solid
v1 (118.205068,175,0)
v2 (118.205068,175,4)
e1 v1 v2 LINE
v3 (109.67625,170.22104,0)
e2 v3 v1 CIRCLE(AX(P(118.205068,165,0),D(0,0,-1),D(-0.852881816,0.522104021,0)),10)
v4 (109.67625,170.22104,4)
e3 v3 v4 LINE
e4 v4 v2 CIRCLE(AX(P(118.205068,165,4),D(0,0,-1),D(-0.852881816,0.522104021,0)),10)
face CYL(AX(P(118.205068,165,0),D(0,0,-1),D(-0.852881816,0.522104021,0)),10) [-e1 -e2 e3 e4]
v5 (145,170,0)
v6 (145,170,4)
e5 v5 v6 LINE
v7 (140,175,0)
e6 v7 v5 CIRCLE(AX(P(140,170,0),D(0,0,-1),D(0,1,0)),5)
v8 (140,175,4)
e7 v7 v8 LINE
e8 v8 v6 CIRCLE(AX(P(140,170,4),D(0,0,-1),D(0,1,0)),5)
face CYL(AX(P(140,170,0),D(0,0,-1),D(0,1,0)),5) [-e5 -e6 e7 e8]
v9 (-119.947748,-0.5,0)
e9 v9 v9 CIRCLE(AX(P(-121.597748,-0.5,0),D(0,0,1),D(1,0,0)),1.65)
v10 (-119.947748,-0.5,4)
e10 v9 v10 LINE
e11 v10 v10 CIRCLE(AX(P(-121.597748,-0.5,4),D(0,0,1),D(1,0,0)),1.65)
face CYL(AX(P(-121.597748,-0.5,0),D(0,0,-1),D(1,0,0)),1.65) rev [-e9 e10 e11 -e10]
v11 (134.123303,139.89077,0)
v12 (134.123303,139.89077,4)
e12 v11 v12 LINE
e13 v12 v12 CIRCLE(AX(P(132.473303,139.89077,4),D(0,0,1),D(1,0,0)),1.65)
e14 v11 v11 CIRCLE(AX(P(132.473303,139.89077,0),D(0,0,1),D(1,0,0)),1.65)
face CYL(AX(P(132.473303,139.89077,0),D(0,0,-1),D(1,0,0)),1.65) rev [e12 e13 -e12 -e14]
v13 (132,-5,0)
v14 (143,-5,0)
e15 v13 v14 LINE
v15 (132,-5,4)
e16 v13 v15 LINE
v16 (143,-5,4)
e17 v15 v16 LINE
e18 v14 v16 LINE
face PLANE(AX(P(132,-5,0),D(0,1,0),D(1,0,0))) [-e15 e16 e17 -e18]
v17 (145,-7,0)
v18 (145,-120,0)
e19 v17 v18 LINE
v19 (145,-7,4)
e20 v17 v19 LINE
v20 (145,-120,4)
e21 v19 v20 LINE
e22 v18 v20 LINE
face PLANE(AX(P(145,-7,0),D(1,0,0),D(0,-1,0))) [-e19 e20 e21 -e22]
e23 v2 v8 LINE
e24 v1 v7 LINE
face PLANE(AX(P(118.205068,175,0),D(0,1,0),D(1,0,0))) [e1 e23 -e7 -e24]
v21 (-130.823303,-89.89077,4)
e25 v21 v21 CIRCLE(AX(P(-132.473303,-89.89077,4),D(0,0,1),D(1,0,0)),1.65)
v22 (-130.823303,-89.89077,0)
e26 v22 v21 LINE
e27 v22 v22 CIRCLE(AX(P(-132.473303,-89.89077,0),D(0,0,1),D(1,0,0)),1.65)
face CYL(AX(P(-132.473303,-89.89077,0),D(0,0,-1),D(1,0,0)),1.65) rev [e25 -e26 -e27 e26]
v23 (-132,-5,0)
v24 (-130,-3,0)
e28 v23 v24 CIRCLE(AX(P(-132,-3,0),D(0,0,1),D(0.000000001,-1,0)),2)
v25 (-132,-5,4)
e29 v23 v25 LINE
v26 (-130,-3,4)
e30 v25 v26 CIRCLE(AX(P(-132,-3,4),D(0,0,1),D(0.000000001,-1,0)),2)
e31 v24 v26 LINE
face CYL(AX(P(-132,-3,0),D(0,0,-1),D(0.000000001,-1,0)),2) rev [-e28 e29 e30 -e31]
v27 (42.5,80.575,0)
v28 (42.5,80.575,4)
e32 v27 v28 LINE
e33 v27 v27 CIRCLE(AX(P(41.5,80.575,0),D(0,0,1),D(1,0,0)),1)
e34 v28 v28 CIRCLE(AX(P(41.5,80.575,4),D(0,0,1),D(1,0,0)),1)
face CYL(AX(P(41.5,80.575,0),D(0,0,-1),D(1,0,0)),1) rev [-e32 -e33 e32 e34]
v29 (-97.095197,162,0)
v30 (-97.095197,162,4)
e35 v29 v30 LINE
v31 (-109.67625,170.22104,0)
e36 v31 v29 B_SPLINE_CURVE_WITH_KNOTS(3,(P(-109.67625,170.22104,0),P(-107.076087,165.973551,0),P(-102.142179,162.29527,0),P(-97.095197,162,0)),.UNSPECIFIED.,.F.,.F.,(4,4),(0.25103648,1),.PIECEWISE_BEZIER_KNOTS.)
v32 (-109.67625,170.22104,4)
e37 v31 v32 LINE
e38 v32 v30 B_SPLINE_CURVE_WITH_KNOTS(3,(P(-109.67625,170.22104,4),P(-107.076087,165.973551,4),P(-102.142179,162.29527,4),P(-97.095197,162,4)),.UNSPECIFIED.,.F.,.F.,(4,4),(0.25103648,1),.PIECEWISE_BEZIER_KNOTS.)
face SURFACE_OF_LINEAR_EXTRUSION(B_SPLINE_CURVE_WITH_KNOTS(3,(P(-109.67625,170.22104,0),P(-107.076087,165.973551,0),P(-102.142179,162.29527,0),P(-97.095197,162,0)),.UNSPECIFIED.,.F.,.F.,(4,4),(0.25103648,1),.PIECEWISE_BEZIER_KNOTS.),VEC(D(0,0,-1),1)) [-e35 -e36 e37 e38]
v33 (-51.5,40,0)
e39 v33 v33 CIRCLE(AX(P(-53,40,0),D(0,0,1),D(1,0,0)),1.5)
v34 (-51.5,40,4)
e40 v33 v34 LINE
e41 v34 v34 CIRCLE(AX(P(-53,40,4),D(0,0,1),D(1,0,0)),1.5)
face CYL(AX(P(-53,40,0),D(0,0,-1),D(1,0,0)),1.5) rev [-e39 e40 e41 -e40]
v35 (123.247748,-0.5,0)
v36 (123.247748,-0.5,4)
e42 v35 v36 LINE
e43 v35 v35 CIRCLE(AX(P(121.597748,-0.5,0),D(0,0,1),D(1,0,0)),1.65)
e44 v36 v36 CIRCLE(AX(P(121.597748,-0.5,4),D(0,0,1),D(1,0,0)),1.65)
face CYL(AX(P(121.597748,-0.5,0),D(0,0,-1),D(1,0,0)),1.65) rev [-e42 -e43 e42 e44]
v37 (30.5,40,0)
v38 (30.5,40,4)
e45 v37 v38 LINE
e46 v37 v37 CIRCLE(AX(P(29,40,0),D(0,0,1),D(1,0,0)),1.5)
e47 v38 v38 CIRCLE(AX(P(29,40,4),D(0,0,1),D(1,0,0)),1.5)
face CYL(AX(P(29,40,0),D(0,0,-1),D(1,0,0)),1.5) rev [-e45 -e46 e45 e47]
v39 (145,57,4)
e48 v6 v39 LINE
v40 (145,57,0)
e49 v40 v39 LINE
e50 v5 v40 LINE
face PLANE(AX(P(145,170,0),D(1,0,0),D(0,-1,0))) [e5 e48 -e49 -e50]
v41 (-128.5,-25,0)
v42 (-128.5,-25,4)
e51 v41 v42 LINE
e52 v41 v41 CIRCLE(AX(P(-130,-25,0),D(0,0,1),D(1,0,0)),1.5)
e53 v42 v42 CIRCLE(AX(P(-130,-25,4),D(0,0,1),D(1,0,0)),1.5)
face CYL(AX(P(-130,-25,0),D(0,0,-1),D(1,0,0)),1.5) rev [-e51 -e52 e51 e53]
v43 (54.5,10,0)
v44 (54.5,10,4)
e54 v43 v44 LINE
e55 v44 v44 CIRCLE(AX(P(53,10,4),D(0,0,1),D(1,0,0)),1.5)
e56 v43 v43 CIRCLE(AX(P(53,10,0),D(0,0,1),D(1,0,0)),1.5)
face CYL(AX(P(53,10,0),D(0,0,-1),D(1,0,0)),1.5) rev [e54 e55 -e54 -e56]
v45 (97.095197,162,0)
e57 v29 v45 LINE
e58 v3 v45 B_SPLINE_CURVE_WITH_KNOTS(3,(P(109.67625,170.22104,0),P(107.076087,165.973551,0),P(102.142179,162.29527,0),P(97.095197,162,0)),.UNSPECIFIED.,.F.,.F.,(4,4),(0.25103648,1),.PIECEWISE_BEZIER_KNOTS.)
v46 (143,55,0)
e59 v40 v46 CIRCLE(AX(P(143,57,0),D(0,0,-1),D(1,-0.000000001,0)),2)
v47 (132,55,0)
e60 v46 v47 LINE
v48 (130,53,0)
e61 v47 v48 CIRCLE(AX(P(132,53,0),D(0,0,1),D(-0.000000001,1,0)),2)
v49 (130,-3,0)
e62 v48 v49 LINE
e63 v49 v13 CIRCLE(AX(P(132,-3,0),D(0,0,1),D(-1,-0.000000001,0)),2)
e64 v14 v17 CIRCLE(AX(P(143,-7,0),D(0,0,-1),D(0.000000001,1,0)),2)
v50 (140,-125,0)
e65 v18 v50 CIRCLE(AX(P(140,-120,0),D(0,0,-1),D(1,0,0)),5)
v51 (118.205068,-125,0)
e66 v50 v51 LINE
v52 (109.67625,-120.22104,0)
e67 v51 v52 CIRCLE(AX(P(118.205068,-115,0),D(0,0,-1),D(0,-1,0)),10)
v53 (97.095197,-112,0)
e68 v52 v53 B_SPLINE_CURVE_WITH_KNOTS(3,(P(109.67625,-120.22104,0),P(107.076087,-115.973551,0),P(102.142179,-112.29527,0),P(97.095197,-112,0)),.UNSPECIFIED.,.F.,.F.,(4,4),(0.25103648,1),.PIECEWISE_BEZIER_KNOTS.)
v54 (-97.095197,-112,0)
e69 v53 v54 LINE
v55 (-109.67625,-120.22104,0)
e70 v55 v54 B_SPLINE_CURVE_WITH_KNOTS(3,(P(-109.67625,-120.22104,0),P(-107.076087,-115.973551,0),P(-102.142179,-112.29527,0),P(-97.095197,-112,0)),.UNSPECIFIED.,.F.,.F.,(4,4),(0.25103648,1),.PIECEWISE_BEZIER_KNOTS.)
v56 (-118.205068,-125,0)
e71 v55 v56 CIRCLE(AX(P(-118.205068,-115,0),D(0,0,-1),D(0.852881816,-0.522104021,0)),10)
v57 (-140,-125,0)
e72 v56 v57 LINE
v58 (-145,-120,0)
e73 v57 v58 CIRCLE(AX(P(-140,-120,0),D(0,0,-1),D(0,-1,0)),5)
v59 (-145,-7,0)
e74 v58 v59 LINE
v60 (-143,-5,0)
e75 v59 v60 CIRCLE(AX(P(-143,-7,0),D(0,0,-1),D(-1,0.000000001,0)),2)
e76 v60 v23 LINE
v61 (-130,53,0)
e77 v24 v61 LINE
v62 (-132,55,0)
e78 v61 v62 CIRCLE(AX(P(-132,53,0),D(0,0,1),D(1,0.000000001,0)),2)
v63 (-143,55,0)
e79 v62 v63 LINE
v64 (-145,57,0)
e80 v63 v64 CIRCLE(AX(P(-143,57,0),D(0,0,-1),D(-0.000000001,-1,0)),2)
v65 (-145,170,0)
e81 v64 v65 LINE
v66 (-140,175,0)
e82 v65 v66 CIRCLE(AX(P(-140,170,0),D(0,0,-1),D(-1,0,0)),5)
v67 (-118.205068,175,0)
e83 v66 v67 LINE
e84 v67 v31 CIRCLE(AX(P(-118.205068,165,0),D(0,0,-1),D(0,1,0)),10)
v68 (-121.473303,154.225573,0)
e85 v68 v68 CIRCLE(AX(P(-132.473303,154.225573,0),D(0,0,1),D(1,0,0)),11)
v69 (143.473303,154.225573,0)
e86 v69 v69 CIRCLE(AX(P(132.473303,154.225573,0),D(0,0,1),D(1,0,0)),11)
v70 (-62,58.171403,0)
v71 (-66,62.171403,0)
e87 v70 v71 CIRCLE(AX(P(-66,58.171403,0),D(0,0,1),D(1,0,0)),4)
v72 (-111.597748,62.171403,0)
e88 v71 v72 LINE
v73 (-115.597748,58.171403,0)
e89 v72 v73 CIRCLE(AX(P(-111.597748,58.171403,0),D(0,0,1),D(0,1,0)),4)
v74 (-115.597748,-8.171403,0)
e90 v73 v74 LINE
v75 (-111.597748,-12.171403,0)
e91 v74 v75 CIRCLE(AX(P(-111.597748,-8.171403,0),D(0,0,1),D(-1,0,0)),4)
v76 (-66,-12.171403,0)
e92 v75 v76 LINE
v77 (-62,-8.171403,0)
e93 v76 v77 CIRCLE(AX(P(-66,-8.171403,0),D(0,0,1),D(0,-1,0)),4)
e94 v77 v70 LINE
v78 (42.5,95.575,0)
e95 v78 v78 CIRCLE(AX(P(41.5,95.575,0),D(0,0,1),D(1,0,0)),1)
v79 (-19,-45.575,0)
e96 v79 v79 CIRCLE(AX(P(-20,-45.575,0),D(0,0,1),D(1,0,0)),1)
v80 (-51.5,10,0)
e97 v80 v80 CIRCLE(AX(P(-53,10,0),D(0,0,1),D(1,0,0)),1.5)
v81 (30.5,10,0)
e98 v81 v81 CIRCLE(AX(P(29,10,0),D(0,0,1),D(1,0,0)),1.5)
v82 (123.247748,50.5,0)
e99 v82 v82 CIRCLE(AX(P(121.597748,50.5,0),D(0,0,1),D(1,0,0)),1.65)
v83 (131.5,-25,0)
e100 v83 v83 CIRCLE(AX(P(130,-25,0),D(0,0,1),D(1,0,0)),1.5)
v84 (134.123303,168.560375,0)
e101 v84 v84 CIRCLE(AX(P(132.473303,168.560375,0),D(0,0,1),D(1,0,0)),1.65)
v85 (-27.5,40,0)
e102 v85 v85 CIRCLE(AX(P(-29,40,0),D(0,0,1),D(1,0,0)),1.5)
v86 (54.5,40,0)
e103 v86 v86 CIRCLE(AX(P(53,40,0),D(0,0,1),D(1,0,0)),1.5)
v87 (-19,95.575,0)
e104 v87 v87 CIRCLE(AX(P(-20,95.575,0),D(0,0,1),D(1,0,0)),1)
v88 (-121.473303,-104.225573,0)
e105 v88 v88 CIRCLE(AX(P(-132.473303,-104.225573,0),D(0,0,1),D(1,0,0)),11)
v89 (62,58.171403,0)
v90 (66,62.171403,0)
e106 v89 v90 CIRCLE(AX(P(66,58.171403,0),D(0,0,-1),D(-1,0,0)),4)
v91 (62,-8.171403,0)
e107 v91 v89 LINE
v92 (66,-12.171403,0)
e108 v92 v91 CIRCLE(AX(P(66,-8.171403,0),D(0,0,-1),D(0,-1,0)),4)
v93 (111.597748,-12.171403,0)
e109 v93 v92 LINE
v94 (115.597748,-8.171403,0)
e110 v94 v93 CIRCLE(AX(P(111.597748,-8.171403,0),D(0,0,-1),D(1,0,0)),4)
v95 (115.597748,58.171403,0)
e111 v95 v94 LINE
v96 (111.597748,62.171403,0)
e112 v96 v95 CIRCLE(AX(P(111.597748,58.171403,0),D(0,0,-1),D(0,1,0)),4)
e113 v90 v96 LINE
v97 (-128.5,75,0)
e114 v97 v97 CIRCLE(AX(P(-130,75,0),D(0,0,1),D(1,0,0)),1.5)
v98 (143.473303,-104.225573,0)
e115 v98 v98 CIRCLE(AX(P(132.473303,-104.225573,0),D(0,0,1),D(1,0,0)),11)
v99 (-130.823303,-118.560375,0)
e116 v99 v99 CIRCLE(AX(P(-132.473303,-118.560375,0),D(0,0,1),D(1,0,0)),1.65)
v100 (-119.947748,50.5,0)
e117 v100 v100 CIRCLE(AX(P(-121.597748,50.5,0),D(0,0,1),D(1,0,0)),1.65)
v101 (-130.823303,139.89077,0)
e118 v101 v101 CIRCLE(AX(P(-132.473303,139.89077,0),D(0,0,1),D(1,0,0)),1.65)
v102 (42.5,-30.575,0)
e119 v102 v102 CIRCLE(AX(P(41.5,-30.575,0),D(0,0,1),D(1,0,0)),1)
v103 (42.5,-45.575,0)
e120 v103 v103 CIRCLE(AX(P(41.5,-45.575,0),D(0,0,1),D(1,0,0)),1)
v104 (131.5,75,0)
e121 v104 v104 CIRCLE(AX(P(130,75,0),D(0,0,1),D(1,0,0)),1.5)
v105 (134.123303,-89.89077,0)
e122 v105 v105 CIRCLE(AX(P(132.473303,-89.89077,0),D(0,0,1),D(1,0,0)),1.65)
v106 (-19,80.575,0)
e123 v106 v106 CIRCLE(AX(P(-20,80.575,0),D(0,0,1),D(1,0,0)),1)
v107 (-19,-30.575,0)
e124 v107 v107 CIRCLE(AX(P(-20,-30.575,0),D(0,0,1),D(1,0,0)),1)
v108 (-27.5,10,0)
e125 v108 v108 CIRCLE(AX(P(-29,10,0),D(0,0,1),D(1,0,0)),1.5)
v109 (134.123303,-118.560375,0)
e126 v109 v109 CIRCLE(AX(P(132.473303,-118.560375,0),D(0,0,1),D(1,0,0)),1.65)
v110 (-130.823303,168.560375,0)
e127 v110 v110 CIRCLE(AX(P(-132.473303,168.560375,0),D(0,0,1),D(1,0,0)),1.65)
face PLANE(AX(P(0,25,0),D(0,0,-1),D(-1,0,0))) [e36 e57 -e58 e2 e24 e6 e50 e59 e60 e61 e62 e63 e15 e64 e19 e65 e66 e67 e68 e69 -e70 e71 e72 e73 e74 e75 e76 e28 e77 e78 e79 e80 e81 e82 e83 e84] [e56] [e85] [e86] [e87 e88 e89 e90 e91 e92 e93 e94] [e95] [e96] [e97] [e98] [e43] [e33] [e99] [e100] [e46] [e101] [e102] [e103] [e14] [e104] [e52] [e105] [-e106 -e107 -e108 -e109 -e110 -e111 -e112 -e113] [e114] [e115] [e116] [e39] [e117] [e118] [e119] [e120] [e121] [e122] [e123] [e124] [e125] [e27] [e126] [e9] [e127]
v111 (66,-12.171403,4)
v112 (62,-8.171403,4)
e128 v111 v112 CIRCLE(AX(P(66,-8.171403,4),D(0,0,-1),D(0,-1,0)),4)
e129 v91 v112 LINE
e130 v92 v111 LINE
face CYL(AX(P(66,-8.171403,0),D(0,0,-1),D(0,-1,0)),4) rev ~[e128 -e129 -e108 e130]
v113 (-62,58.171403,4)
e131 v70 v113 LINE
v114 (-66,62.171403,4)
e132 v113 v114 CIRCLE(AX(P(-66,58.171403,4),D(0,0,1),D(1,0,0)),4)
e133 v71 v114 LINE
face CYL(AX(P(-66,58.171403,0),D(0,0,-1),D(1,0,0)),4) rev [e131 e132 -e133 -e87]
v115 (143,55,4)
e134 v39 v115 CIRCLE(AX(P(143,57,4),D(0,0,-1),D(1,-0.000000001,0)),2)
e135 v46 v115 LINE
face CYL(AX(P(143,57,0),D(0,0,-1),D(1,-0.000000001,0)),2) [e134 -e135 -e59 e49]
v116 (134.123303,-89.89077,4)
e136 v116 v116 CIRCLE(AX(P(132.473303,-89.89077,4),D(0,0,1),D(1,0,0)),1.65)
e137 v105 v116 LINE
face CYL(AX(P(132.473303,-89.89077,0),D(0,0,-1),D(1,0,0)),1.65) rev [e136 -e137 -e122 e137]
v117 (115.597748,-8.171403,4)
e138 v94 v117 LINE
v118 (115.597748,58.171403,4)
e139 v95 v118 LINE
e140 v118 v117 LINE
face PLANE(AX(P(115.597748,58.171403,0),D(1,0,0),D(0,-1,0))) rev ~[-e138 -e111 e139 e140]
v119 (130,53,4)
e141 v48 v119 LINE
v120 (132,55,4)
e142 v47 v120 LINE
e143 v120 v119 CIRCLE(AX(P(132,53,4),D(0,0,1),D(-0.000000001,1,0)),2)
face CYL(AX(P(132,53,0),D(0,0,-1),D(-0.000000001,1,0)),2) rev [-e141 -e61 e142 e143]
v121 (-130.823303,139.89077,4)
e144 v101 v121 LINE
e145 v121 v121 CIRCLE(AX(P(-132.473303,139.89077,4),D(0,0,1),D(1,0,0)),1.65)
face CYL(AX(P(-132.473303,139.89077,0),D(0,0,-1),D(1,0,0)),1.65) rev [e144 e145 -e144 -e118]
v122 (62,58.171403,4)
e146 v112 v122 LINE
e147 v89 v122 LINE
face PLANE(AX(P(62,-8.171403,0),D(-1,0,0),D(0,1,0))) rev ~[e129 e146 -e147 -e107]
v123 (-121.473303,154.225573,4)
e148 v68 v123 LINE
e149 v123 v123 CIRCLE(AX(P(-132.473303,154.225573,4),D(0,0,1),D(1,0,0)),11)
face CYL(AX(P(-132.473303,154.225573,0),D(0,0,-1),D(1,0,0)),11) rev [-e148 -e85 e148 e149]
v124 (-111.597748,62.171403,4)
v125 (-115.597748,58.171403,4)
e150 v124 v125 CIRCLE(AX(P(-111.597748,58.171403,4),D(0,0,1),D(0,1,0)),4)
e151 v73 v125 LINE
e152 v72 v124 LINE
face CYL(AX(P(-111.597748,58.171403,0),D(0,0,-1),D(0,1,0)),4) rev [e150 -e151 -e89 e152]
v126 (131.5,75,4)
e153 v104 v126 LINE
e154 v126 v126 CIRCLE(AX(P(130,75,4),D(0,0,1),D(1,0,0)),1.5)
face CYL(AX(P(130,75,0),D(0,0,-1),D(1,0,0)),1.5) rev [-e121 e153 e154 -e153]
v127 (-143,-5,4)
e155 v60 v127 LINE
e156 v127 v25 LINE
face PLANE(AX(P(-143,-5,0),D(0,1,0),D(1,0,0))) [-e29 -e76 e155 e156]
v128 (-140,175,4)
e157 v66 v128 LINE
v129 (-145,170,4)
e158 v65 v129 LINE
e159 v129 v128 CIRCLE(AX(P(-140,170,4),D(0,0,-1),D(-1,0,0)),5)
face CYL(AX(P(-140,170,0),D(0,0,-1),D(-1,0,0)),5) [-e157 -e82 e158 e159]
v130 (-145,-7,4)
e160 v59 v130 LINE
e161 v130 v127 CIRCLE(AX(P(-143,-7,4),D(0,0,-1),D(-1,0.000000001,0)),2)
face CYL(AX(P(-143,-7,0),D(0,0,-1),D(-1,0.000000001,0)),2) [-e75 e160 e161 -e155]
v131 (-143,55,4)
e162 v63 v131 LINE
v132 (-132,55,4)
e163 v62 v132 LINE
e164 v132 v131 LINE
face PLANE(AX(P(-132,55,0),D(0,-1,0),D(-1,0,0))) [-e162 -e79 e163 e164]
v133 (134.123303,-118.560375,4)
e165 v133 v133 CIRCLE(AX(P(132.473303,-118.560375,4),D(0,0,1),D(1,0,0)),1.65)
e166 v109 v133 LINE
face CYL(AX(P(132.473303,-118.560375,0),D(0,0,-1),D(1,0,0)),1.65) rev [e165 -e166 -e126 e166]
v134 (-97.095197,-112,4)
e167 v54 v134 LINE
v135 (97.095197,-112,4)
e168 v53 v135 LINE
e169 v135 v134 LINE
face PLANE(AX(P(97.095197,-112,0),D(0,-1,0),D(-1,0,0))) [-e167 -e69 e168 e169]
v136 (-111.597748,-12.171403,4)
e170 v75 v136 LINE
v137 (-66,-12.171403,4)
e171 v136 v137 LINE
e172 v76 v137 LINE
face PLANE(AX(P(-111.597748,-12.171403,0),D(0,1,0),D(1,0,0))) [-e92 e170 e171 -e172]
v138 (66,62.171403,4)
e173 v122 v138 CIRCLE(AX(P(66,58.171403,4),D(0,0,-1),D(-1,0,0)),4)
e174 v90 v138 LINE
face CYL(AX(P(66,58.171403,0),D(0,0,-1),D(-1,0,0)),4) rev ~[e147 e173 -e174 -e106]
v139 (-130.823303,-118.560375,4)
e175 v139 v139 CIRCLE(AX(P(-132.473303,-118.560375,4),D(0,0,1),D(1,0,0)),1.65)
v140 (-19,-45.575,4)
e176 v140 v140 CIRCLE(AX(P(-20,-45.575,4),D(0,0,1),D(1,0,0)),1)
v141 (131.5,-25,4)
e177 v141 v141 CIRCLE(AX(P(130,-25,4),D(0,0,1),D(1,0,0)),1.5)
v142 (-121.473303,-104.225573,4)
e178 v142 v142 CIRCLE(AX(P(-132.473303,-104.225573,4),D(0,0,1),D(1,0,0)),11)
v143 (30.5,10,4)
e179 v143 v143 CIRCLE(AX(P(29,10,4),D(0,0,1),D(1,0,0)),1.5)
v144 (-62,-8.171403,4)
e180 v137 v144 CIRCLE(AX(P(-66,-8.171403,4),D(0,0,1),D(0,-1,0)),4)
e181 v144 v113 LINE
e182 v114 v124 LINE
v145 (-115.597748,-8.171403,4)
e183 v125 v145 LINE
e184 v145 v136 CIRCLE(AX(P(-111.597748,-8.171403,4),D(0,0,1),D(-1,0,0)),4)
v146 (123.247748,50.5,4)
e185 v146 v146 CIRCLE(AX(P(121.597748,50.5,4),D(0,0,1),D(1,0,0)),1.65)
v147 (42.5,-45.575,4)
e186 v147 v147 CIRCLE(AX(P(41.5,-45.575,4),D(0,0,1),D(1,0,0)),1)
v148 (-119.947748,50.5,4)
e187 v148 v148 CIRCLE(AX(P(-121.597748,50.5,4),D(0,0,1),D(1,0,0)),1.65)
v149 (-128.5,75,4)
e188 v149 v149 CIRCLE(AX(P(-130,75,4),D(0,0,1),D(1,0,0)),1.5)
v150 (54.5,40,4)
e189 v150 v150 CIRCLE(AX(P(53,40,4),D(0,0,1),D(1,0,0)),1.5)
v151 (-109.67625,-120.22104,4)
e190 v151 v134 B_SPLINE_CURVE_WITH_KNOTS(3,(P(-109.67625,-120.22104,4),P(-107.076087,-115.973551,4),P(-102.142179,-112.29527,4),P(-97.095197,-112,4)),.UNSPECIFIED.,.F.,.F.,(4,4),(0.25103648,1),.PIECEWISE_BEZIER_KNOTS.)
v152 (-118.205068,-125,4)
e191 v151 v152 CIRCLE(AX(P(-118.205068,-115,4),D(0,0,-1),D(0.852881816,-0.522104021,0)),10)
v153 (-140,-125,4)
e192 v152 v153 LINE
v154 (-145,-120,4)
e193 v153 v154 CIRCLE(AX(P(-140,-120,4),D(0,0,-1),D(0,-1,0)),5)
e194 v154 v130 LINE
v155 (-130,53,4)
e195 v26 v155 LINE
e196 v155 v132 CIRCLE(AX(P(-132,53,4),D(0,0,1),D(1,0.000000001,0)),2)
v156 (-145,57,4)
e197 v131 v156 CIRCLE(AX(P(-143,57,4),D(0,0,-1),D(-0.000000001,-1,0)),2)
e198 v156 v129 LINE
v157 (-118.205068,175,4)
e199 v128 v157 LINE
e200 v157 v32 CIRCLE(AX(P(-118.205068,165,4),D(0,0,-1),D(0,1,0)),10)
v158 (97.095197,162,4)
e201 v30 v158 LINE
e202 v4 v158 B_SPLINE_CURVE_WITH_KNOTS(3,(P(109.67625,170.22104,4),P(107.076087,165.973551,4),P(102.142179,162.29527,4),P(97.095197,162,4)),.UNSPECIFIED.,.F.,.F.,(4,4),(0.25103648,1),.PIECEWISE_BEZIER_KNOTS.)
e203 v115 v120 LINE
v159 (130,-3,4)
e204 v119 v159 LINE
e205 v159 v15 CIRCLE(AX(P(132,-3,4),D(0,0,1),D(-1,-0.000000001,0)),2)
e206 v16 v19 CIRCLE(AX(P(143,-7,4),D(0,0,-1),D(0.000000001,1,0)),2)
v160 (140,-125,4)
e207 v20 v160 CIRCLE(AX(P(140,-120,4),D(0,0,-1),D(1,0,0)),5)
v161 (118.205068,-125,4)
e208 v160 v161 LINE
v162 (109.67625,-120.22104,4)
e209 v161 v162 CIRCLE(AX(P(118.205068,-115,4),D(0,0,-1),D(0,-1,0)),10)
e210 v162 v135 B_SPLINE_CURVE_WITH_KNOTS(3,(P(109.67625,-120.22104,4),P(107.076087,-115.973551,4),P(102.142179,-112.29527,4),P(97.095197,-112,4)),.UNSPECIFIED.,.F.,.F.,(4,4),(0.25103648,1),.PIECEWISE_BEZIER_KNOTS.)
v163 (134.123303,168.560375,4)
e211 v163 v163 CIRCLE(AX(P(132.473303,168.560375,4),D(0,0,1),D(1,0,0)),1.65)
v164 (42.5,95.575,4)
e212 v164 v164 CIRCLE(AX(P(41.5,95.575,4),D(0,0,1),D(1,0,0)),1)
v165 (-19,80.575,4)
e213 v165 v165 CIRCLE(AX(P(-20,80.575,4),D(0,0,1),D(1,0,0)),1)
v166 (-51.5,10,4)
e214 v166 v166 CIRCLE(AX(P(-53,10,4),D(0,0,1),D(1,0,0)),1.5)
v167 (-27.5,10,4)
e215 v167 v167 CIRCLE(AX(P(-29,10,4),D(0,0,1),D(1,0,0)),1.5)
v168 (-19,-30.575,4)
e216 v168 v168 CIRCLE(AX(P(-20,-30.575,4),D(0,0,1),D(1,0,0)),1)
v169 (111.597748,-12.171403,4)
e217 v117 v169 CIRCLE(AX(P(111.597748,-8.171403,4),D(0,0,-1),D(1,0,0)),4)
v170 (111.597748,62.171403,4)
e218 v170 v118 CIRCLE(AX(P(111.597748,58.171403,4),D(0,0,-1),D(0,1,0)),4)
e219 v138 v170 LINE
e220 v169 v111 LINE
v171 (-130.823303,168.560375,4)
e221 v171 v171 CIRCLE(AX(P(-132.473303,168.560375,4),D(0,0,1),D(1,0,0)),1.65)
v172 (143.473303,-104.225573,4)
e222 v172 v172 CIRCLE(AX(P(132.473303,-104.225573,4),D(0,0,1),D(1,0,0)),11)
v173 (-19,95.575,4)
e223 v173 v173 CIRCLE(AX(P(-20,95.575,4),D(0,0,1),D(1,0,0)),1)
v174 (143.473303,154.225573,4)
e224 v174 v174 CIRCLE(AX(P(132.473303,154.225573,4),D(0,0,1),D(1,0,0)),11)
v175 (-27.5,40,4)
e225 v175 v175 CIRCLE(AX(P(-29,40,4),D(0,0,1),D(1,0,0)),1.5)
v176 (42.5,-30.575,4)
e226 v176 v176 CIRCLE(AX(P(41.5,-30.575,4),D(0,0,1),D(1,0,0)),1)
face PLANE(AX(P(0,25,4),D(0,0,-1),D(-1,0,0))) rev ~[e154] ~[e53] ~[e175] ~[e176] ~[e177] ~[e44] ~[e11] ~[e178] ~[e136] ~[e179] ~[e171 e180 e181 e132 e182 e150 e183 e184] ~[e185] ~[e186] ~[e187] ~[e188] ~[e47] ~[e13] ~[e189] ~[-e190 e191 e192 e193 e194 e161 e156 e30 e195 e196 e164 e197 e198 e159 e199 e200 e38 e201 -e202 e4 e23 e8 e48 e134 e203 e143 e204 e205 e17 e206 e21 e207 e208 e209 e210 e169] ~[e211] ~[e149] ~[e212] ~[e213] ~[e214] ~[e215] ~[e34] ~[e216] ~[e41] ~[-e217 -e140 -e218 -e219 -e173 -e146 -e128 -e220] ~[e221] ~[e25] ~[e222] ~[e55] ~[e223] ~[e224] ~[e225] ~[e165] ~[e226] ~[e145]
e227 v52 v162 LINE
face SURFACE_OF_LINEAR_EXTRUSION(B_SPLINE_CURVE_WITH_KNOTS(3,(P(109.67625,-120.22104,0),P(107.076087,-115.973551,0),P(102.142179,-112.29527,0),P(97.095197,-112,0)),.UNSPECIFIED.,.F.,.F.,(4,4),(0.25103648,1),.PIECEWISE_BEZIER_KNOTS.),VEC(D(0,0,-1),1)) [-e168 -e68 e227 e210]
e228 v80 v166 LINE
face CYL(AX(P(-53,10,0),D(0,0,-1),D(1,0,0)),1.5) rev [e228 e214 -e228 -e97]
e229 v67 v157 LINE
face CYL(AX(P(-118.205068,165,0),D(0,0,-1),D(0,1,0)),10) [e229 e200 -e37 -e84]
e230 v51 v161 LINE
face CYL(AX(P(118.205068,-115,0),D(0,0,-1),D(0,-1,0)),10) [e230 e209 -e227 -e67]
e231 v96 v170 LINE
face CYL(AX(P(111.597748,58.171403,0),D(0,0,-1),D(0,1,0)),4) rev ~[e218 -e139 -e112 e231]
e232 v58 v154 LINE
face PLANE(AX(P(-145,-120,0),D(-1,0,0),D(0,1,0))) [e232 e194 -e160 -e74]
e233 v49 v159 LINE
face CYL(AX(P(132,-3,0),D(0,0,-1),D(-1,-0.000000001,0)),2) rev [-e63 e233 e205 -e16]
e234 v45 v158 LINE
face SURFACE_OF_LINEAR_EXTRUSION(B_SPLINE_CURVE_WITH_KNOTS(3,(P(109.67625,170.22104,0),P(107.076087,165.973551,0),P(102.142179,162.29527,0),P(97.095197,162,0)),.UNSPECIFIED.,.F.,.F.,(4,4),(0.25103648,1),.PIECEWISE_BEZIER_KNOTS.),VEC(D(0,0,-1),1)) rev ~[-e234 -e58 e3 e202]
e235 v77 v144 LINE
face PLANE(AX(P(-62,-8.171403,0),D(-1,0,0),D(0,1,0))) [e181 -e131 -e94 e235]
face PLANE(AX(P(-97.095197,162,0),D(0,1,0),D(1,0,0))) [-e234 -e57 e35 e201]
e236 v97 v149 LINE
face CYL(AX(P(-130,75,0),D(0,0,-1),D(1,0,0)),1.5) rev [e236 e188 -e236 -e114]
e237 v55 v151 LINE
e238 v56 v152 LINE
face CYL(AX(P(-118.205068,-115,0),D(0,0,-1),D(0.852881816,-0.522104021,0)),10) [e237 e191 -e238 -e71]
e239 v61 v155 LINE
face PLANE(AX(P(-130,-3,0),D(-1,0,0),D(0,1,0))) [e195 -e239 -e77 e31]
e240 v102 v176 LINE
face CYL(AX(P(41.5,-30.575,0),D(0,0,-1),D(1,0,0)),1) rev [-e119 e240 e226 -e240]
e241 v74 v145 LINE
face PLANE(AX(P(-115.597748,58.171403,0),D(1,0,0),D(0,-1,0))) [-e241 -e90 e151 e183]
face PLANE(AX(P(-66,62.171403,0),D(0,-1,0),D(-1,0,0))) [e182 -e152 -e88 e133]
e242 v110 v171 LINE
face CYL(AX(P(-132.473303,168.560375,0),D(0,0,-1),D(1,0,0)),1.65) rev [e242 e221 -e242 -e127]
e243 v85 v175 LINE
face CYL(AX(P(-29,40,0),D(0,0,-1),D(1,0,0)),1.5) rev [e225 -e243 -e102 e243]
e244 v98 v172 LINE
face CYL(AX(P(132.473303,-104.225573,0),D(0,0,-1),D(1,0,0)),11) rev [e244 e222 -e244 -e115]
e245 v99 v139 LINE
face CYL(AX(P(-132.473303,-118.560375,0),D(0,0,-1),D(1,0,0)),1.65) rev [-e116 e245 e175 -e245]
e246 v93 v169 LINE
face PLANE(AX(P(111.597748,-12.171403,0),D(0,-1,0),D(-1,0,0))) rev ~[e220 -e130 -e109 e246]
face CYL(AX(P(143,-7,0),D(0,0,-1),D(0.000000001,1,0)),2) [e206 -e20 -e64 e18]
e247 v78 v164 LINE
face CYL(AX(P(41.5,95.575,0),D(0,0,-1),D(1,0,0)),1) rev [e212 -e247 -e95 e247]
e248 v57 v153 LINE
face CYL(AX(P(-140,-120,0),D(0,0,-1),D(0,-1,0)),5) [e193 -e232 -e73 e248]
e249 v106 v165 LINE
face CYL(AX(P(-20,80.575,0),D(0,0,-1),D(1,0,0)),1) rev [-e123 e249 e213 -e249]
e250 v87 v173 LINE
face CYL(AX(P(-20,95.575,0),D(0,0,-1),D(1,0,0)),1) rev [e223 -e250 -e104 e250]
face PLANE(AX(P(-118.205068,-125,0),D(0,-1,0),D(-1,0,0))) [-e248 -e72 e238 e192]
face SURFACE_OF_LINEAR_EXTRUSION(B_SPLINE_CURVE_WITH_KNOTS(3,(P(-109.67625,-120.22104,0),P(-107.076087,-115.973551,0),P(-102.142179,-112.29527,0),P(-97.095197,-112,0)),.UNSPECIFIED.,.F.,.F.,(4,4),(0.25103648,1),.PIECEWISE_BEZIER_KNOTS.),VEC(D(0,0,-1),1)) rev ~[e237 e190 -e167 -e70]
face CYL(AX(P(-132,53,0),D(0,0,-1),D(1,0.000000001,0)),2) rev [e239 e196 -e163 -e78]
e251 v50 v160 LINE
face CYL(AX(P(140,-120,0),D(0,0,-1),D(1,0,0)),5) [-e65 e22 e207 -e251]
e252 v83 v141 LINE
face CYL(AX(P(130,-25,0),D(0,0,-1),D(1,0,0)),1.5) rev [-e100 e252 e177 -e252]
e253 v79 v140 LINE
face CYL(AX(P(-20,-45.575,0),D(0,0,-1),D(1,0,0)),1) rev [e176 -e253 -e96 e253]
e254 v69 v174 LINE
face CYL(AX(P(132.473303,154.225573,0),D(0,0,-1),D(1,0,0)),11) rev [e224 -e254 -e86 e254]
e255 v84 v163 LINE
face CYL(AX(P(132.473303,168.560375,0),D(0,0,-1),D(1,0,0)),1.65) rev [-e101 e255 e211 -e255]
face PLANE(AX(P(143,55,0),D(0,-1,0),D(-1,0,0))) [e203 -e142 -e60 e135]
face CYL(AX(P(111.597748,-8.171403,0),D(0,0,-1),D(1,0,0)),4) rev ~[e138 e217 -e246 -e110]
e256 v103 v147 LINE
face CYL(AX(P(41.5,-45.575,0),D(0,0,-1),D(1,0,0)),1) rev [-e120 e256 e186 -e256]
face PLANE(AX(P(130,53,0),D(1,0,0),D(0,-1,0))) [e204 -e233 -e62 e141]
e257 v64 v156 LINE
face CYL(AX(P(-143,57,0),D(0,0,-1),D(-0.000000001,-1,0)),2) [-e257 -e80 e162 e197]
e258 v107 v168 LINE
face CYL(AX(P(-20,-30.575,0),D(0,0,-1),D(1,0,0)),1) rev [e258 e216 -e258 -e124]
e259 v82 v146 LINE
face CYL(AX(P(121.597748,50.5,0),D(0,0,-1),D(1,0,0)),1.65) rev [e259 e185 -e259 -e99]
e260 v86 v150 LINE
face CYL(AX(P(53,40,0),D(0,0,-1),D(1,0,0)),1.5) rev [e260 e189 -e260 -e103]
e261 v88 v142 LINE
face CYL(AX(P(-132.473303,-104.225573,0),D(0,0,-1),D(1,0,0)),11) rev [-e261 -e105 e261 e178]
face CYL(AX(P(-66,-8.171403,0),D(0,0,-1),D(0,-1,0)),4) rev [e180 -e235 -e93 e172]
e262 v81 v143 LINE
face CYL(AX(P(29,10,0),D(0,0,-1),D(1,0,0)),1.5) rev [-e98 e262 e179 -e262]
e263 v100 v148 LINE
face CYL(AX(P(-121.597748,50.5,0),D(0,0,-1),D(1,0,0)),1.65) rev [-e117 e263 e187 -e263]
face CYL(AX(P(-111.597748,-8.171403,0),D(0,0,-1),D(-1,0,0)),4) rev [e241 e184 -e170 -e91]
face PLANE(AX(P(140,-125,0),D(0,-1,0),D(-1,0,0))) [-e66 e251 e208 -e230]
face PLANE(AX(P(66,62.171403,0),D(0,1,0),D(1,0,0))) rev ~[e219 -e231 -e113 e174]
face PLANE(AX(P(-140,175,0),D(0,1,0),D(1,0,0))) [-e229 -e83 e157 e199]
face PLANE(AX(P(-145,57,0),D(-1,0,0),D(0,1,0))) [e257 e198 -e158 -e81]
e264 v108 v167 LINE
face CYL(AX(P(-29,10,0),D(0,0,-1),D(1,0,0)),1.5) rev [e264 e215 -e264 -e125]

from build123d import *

# Parameters (mm, degrees)
SKETCH2_R           = 1.65
SKETCH2_R_2         = 11
SKETCH2_R_3         = 1.5
SKETCH2_R_4         = 1
BOSS_EXTRUDE1_DEPTH = 4


with BuildPart() as part:
    # Sketch2 → Boss-Extrude1 (new body)
    with BuildSketch(Plane.XY):
        with BuildLine():
            Line((-140, 175), (-118.205067931, 175))
            ThreePointArc((-118.205067931, 175), (-113.316837275, 173.723829494), (-109.676249776, 170.221040209))
            add(Edge.make_bspline(
                [(-109.676249776, 170.221040209), (-107.076087276, 165.973550773), (-102.14217925, 162.295269988), (-97.095196953, 162)],
                knots=[0.25103648, 0.25103648, 0.25103648, 0.25103648, 1, 1, 1, 1], degree=3))
            Line((-97.095196953, 162), (97.095196953, 162))
            add(Edge.make_bspline(
                [(109.676249776, 170.221040209), (107.076087276, 165.973550773), (102.14217925, 162.295269988), (97.095196953, 162)],
                knots=[0.25103648, 0.25103648, 0.25103648, 0.25103648, 1, 1, 1, 1], degree=3))
            ThreePointArc((109.676249776, 170.221040209), (113.316837275, 173.723829494), (118.205067931, 175))
            Line((118.205067931, 175), (140, 175))
            ThreePointArc((140, 175), (143.535533906, 173.535533906), (145, 170))
            Line((145, 170), (145, 57))
            ThreePointArc((145, 57), (144.414213562, 55.585786438), (143, 55))
            Line((143, 55), (132, 55))
            ThreePointArc((132, 55), (130.585786438, 54.414213562), (130, 53))
            Line((130, 53), (130, -3))
            ThreePointArc((130, -3), (130.585786438, -4.414213562), (132, -5))
            Line((132, -5), (143, -5))
            ThreePointArc((143, -5), (144.414213562, -5.585786438), (145, -7))
            Line((145, -7), (145, -120))
            ThreePointArc((145, -120), (143.535533906, -123.535533906), (140, -125))
            Line((140, -125), (118.205067931, -125))
            ThreePointArc((118.205067931, -125), (113.316837275, -123.723829494), (109.676249776, -120.221040209))
            add(Edge.make_bspline(
                [(109.676249776, -120.221040209), (107.076087276, -115.973550773), (102.14217925, -112.295269988), (97.095196953, -112)],
                knots=[0.25103648, 0.25103648, 0.25103648, 0.25103648, 1, 1, 1, 1], degree=3))
            Line((97.095196953, -112), (-97.095196953, -112))
            add(Edge.make_bspline(
                [(-109.676249776, -120.221040209), (-107.076087276, -115.973550773), (-102.14217925, -112.295269988), (-97.095196953, -112)],
                knots=[0.25103648, 0.25103648, 0.25103648, 0.25103648, 1, 1, 1, 1], degree=3))
            ThreePointArc((-109.676249776, -120.221040209), (-113.316837275, -123.723829494), (-118.205067931, -125))
            Line((-118.205067931, -125), (-140, -125))
            ThreePointArc((-140, -125), (-143.535533906, -123.535533906), (-145, -120))
            Line((-145, -120), (-145, -7))
            ThreePointArc((-145, -7), (-144.414213562, -5.585786438), (-143, -5))
            Line((-143, -5), (-132, -5))
            ThreePointArc((-132, -5), (-130.585786438, -4.414213562), (-130, -3))
            Line((-130, -3), (-130, 53))
            ThreePointArc((-130, 53), (-130.585786438, 54.414213562), (-132, 55))
            Line((-132, 55), (-143, 55))
            ThreePointArc((-143, 55), (-144.414213562, 55.585786438), (-145, 57))
            Line((-145, 57), (-145, 170))
            ThreePointArc((-145, 170), (-143.535533906, 173.535533906), (-140, 175))
        make_face()
        with Locations((-132.473303105, 168.56037538)):
            Circle(SKETCH2_R, mode=Mode.SUBTRACT)
        with Locations((-132.473303105, 139.890769728)):
            Circle(SKETCH2_R, mode=Mode.SUBTRACT)
        with Locations((132.473303105, 168.56037538)):
            Circle(SKETCH2_R, mode=Mode.SUBTRACT)
        with Locations((132.473303105, 139.890769728)):
            Circle(SKETCH2_R, mode=Mode.SUBTRACT)
        with Locations((132.473303105, 154.225572554)):
            Circle(SKETCH2_R_2, mode=Mode.SUBTRACT)
        with Locations((-132.473303105, 154.225572554)):
            Circle(SKETCH2_R_2, mode=Mode.SUBTRACT)
        with Locations((121.59774802, -0.5)):
            Circle(SKETCH2_R, mode=Mode.SUBTRACT)
        with Locations((121.59774802, 50.5)):
            Circle(SKETCH2_R, mode=Mode.SUBTRACT)
        with Locations((-121.59774802, -0.5)):
            Circle(SKETCH2_R, mode=Mode.SUBTRACT)
        with Locations((-121.59774802, 50.5)):
            Circle(SKETCH2_R, mode=Mode.SUBTRACT)
        with Locations((-29, 10)):
            Circle(SKETCH2_R_3, mode=Mode.SUBTRACT)
        with Locations((-29, 40)):
            Circle(SKETCH2_R_3, mode=Mode.SUBTRACT)
        with Locations((-53, 40)):
            Circle(SKETCH2_R_3, mode=Mode.SUBTRACT)
        with Locations((-53, 10)):
            Circle(SKETCH2_R_3, mode=Mode.SUBTRACT)
        with Locations((53, 10)):
            Circle(SKETCH2_R_3, mode=Mode.SUBTRACT)
        with Locations((29, 10)):
            Circle(SKETCH2_R_3, mode=Mode.SUBTRACT)
        with Locations((29, 40)):
            Circle(SKETCH2_R_3, mode=Mode.SUBTRACT)
        with Locations((53, 40)):
            Circle(SKETCH2_R_3, mode=Mode.SUBTRACT)
        with Locations((132.473303105, -118.56037538)):
            Circle(SKETCH2_R, mode=Mode.SUBTRACT)
        with Locations((132.473303105, -89.890769728)):
            Circle(SKETCH2_R, mode=Mode.SUBTRACT)
        with Locations((132.473303105, -104.225572554)):
            Circle(SKETCH2_R_2, mode=Mode.SUBTRACT)
        with Locations((-132.473303105, -104.225572554)):
            Circle(SKETCH2_R_2, mode=Mode.SUBTRACT)
        with Locations((-132.473303105, -89.890769728)):
            Circle(SKETCH2_R, mode=Mode.SUBTRACT)
        with Locations((-132.473303105, -118.56037538)):
            Circle(SKETCH2_R, mode=Mode.SUBTRACT)
        with Locations((130, 75)):
            Circle(SKETCH2_R_3, mode=Mode.SUBTRACT)
        with Locations((41.5, 95.575)):
            Circle(SKETCH2_R_4, mode=Mode.SUBTRACT)
        with Locations((41.5, 80.575)):
            Circle(SKETCH2_R_4, mode=Mode.SUBTRACT)
        with Locations((-20, 80.575)):
            Circle(SKETCH2_R_4, mode=Mode.SUBTRACT)
        with Locations((-20, 95.575)):
            Circle(SKETCH2_R_4, mode=Mode.SUBTRACT)
        with Locations((-20, -45.575)):
            Circle(SKETCH2_R_4, mode=Mode.SUBTRACT)
        with Locations((-20, -30.575)):
            Circle(SKETCH2_R_4, mode=Mode.SUBTRACT)
        with Locations((41.5, -30.575)):
            Circle(SKETCH2_R_4, mode=Mode.SUBTRACT)
        with Locations((41.5, -45.575)):
            Circle(SKETCH2_R_4, mode=Mode.SUBTRACT)
        with Locations((130, -25)):
            Circle(SKETCH2_R_3, mode=Mode.SUBTRACT)
        with Locations((-130, 75)):
            Circle(SKETCH2_R_3, mode=Mode.SUBTRACT)
        with Locations((-130, -25)):
            Circle(SKETCH2_R_3, mode=Mode.SUBTRACT)
        with BuildLine():
            Line((-66, 62.171403079), (-111.59774802, 62.171403079))
            ThreePointArc((-111.59774802, 62.171403079), (-114.426175145, 60.999830204), (-115.59774802, 58.171403079))
            Line((-115.59774802, 58.171403079), (-115.59774802, -8.171403079))
            ThreePointArc((-115.59774802, -8.171403079), (-114.426175145, -10.999830204), (-111.59774802, -12.171403079))
            Line((-111.59774802, -12.171403079), (-66, -12.171403079))
            ThreePointArc((-66, -12.171403079), (-63.171572875, -10.999830204), (-62, -8.171403079))
            Line((-62, -8.171403079), (-62, 58.171403079))
            ThreePointArc((-62, 58.171403079), (-63.171572875, 60.999830204), (-66, 62.171403079))
        make_face(mode=Mode.SUBTRACT)
        with BuildLine():
            Line((66, 62.171403079), (111.59774802, 62.171403079))
            ThreePointArc((111.59774802, 62.171403079), (114.426175145, 60.999830204), (115.59774802, 58.171403079))
            Line((115.59774802, 58.171403079), (115.59774802, -8.171403079))
            ThreePointArc((115.59774802, -8.171403079), (114.426175145, -10.999830204), (111.59774802, -12.171403079))
            Line((111.59774802, -12.171403079), (66, -12.171403079))
            ThreePointArc((66, -12.171403079), (63.171572875, -10.999830204), (62, -8.171403079))
            Line((62, -8.171403079), (62, 58.171403079))
            ThreePointArc((62, 58.171403079), (63.171572875, 60.999830204), (66, 62.171403079))
        make_face(mode=Mode.SUBTRACT)
    extrude(amount=BOSS_EXTRUDE1_DEPTH)


solid = part.part
